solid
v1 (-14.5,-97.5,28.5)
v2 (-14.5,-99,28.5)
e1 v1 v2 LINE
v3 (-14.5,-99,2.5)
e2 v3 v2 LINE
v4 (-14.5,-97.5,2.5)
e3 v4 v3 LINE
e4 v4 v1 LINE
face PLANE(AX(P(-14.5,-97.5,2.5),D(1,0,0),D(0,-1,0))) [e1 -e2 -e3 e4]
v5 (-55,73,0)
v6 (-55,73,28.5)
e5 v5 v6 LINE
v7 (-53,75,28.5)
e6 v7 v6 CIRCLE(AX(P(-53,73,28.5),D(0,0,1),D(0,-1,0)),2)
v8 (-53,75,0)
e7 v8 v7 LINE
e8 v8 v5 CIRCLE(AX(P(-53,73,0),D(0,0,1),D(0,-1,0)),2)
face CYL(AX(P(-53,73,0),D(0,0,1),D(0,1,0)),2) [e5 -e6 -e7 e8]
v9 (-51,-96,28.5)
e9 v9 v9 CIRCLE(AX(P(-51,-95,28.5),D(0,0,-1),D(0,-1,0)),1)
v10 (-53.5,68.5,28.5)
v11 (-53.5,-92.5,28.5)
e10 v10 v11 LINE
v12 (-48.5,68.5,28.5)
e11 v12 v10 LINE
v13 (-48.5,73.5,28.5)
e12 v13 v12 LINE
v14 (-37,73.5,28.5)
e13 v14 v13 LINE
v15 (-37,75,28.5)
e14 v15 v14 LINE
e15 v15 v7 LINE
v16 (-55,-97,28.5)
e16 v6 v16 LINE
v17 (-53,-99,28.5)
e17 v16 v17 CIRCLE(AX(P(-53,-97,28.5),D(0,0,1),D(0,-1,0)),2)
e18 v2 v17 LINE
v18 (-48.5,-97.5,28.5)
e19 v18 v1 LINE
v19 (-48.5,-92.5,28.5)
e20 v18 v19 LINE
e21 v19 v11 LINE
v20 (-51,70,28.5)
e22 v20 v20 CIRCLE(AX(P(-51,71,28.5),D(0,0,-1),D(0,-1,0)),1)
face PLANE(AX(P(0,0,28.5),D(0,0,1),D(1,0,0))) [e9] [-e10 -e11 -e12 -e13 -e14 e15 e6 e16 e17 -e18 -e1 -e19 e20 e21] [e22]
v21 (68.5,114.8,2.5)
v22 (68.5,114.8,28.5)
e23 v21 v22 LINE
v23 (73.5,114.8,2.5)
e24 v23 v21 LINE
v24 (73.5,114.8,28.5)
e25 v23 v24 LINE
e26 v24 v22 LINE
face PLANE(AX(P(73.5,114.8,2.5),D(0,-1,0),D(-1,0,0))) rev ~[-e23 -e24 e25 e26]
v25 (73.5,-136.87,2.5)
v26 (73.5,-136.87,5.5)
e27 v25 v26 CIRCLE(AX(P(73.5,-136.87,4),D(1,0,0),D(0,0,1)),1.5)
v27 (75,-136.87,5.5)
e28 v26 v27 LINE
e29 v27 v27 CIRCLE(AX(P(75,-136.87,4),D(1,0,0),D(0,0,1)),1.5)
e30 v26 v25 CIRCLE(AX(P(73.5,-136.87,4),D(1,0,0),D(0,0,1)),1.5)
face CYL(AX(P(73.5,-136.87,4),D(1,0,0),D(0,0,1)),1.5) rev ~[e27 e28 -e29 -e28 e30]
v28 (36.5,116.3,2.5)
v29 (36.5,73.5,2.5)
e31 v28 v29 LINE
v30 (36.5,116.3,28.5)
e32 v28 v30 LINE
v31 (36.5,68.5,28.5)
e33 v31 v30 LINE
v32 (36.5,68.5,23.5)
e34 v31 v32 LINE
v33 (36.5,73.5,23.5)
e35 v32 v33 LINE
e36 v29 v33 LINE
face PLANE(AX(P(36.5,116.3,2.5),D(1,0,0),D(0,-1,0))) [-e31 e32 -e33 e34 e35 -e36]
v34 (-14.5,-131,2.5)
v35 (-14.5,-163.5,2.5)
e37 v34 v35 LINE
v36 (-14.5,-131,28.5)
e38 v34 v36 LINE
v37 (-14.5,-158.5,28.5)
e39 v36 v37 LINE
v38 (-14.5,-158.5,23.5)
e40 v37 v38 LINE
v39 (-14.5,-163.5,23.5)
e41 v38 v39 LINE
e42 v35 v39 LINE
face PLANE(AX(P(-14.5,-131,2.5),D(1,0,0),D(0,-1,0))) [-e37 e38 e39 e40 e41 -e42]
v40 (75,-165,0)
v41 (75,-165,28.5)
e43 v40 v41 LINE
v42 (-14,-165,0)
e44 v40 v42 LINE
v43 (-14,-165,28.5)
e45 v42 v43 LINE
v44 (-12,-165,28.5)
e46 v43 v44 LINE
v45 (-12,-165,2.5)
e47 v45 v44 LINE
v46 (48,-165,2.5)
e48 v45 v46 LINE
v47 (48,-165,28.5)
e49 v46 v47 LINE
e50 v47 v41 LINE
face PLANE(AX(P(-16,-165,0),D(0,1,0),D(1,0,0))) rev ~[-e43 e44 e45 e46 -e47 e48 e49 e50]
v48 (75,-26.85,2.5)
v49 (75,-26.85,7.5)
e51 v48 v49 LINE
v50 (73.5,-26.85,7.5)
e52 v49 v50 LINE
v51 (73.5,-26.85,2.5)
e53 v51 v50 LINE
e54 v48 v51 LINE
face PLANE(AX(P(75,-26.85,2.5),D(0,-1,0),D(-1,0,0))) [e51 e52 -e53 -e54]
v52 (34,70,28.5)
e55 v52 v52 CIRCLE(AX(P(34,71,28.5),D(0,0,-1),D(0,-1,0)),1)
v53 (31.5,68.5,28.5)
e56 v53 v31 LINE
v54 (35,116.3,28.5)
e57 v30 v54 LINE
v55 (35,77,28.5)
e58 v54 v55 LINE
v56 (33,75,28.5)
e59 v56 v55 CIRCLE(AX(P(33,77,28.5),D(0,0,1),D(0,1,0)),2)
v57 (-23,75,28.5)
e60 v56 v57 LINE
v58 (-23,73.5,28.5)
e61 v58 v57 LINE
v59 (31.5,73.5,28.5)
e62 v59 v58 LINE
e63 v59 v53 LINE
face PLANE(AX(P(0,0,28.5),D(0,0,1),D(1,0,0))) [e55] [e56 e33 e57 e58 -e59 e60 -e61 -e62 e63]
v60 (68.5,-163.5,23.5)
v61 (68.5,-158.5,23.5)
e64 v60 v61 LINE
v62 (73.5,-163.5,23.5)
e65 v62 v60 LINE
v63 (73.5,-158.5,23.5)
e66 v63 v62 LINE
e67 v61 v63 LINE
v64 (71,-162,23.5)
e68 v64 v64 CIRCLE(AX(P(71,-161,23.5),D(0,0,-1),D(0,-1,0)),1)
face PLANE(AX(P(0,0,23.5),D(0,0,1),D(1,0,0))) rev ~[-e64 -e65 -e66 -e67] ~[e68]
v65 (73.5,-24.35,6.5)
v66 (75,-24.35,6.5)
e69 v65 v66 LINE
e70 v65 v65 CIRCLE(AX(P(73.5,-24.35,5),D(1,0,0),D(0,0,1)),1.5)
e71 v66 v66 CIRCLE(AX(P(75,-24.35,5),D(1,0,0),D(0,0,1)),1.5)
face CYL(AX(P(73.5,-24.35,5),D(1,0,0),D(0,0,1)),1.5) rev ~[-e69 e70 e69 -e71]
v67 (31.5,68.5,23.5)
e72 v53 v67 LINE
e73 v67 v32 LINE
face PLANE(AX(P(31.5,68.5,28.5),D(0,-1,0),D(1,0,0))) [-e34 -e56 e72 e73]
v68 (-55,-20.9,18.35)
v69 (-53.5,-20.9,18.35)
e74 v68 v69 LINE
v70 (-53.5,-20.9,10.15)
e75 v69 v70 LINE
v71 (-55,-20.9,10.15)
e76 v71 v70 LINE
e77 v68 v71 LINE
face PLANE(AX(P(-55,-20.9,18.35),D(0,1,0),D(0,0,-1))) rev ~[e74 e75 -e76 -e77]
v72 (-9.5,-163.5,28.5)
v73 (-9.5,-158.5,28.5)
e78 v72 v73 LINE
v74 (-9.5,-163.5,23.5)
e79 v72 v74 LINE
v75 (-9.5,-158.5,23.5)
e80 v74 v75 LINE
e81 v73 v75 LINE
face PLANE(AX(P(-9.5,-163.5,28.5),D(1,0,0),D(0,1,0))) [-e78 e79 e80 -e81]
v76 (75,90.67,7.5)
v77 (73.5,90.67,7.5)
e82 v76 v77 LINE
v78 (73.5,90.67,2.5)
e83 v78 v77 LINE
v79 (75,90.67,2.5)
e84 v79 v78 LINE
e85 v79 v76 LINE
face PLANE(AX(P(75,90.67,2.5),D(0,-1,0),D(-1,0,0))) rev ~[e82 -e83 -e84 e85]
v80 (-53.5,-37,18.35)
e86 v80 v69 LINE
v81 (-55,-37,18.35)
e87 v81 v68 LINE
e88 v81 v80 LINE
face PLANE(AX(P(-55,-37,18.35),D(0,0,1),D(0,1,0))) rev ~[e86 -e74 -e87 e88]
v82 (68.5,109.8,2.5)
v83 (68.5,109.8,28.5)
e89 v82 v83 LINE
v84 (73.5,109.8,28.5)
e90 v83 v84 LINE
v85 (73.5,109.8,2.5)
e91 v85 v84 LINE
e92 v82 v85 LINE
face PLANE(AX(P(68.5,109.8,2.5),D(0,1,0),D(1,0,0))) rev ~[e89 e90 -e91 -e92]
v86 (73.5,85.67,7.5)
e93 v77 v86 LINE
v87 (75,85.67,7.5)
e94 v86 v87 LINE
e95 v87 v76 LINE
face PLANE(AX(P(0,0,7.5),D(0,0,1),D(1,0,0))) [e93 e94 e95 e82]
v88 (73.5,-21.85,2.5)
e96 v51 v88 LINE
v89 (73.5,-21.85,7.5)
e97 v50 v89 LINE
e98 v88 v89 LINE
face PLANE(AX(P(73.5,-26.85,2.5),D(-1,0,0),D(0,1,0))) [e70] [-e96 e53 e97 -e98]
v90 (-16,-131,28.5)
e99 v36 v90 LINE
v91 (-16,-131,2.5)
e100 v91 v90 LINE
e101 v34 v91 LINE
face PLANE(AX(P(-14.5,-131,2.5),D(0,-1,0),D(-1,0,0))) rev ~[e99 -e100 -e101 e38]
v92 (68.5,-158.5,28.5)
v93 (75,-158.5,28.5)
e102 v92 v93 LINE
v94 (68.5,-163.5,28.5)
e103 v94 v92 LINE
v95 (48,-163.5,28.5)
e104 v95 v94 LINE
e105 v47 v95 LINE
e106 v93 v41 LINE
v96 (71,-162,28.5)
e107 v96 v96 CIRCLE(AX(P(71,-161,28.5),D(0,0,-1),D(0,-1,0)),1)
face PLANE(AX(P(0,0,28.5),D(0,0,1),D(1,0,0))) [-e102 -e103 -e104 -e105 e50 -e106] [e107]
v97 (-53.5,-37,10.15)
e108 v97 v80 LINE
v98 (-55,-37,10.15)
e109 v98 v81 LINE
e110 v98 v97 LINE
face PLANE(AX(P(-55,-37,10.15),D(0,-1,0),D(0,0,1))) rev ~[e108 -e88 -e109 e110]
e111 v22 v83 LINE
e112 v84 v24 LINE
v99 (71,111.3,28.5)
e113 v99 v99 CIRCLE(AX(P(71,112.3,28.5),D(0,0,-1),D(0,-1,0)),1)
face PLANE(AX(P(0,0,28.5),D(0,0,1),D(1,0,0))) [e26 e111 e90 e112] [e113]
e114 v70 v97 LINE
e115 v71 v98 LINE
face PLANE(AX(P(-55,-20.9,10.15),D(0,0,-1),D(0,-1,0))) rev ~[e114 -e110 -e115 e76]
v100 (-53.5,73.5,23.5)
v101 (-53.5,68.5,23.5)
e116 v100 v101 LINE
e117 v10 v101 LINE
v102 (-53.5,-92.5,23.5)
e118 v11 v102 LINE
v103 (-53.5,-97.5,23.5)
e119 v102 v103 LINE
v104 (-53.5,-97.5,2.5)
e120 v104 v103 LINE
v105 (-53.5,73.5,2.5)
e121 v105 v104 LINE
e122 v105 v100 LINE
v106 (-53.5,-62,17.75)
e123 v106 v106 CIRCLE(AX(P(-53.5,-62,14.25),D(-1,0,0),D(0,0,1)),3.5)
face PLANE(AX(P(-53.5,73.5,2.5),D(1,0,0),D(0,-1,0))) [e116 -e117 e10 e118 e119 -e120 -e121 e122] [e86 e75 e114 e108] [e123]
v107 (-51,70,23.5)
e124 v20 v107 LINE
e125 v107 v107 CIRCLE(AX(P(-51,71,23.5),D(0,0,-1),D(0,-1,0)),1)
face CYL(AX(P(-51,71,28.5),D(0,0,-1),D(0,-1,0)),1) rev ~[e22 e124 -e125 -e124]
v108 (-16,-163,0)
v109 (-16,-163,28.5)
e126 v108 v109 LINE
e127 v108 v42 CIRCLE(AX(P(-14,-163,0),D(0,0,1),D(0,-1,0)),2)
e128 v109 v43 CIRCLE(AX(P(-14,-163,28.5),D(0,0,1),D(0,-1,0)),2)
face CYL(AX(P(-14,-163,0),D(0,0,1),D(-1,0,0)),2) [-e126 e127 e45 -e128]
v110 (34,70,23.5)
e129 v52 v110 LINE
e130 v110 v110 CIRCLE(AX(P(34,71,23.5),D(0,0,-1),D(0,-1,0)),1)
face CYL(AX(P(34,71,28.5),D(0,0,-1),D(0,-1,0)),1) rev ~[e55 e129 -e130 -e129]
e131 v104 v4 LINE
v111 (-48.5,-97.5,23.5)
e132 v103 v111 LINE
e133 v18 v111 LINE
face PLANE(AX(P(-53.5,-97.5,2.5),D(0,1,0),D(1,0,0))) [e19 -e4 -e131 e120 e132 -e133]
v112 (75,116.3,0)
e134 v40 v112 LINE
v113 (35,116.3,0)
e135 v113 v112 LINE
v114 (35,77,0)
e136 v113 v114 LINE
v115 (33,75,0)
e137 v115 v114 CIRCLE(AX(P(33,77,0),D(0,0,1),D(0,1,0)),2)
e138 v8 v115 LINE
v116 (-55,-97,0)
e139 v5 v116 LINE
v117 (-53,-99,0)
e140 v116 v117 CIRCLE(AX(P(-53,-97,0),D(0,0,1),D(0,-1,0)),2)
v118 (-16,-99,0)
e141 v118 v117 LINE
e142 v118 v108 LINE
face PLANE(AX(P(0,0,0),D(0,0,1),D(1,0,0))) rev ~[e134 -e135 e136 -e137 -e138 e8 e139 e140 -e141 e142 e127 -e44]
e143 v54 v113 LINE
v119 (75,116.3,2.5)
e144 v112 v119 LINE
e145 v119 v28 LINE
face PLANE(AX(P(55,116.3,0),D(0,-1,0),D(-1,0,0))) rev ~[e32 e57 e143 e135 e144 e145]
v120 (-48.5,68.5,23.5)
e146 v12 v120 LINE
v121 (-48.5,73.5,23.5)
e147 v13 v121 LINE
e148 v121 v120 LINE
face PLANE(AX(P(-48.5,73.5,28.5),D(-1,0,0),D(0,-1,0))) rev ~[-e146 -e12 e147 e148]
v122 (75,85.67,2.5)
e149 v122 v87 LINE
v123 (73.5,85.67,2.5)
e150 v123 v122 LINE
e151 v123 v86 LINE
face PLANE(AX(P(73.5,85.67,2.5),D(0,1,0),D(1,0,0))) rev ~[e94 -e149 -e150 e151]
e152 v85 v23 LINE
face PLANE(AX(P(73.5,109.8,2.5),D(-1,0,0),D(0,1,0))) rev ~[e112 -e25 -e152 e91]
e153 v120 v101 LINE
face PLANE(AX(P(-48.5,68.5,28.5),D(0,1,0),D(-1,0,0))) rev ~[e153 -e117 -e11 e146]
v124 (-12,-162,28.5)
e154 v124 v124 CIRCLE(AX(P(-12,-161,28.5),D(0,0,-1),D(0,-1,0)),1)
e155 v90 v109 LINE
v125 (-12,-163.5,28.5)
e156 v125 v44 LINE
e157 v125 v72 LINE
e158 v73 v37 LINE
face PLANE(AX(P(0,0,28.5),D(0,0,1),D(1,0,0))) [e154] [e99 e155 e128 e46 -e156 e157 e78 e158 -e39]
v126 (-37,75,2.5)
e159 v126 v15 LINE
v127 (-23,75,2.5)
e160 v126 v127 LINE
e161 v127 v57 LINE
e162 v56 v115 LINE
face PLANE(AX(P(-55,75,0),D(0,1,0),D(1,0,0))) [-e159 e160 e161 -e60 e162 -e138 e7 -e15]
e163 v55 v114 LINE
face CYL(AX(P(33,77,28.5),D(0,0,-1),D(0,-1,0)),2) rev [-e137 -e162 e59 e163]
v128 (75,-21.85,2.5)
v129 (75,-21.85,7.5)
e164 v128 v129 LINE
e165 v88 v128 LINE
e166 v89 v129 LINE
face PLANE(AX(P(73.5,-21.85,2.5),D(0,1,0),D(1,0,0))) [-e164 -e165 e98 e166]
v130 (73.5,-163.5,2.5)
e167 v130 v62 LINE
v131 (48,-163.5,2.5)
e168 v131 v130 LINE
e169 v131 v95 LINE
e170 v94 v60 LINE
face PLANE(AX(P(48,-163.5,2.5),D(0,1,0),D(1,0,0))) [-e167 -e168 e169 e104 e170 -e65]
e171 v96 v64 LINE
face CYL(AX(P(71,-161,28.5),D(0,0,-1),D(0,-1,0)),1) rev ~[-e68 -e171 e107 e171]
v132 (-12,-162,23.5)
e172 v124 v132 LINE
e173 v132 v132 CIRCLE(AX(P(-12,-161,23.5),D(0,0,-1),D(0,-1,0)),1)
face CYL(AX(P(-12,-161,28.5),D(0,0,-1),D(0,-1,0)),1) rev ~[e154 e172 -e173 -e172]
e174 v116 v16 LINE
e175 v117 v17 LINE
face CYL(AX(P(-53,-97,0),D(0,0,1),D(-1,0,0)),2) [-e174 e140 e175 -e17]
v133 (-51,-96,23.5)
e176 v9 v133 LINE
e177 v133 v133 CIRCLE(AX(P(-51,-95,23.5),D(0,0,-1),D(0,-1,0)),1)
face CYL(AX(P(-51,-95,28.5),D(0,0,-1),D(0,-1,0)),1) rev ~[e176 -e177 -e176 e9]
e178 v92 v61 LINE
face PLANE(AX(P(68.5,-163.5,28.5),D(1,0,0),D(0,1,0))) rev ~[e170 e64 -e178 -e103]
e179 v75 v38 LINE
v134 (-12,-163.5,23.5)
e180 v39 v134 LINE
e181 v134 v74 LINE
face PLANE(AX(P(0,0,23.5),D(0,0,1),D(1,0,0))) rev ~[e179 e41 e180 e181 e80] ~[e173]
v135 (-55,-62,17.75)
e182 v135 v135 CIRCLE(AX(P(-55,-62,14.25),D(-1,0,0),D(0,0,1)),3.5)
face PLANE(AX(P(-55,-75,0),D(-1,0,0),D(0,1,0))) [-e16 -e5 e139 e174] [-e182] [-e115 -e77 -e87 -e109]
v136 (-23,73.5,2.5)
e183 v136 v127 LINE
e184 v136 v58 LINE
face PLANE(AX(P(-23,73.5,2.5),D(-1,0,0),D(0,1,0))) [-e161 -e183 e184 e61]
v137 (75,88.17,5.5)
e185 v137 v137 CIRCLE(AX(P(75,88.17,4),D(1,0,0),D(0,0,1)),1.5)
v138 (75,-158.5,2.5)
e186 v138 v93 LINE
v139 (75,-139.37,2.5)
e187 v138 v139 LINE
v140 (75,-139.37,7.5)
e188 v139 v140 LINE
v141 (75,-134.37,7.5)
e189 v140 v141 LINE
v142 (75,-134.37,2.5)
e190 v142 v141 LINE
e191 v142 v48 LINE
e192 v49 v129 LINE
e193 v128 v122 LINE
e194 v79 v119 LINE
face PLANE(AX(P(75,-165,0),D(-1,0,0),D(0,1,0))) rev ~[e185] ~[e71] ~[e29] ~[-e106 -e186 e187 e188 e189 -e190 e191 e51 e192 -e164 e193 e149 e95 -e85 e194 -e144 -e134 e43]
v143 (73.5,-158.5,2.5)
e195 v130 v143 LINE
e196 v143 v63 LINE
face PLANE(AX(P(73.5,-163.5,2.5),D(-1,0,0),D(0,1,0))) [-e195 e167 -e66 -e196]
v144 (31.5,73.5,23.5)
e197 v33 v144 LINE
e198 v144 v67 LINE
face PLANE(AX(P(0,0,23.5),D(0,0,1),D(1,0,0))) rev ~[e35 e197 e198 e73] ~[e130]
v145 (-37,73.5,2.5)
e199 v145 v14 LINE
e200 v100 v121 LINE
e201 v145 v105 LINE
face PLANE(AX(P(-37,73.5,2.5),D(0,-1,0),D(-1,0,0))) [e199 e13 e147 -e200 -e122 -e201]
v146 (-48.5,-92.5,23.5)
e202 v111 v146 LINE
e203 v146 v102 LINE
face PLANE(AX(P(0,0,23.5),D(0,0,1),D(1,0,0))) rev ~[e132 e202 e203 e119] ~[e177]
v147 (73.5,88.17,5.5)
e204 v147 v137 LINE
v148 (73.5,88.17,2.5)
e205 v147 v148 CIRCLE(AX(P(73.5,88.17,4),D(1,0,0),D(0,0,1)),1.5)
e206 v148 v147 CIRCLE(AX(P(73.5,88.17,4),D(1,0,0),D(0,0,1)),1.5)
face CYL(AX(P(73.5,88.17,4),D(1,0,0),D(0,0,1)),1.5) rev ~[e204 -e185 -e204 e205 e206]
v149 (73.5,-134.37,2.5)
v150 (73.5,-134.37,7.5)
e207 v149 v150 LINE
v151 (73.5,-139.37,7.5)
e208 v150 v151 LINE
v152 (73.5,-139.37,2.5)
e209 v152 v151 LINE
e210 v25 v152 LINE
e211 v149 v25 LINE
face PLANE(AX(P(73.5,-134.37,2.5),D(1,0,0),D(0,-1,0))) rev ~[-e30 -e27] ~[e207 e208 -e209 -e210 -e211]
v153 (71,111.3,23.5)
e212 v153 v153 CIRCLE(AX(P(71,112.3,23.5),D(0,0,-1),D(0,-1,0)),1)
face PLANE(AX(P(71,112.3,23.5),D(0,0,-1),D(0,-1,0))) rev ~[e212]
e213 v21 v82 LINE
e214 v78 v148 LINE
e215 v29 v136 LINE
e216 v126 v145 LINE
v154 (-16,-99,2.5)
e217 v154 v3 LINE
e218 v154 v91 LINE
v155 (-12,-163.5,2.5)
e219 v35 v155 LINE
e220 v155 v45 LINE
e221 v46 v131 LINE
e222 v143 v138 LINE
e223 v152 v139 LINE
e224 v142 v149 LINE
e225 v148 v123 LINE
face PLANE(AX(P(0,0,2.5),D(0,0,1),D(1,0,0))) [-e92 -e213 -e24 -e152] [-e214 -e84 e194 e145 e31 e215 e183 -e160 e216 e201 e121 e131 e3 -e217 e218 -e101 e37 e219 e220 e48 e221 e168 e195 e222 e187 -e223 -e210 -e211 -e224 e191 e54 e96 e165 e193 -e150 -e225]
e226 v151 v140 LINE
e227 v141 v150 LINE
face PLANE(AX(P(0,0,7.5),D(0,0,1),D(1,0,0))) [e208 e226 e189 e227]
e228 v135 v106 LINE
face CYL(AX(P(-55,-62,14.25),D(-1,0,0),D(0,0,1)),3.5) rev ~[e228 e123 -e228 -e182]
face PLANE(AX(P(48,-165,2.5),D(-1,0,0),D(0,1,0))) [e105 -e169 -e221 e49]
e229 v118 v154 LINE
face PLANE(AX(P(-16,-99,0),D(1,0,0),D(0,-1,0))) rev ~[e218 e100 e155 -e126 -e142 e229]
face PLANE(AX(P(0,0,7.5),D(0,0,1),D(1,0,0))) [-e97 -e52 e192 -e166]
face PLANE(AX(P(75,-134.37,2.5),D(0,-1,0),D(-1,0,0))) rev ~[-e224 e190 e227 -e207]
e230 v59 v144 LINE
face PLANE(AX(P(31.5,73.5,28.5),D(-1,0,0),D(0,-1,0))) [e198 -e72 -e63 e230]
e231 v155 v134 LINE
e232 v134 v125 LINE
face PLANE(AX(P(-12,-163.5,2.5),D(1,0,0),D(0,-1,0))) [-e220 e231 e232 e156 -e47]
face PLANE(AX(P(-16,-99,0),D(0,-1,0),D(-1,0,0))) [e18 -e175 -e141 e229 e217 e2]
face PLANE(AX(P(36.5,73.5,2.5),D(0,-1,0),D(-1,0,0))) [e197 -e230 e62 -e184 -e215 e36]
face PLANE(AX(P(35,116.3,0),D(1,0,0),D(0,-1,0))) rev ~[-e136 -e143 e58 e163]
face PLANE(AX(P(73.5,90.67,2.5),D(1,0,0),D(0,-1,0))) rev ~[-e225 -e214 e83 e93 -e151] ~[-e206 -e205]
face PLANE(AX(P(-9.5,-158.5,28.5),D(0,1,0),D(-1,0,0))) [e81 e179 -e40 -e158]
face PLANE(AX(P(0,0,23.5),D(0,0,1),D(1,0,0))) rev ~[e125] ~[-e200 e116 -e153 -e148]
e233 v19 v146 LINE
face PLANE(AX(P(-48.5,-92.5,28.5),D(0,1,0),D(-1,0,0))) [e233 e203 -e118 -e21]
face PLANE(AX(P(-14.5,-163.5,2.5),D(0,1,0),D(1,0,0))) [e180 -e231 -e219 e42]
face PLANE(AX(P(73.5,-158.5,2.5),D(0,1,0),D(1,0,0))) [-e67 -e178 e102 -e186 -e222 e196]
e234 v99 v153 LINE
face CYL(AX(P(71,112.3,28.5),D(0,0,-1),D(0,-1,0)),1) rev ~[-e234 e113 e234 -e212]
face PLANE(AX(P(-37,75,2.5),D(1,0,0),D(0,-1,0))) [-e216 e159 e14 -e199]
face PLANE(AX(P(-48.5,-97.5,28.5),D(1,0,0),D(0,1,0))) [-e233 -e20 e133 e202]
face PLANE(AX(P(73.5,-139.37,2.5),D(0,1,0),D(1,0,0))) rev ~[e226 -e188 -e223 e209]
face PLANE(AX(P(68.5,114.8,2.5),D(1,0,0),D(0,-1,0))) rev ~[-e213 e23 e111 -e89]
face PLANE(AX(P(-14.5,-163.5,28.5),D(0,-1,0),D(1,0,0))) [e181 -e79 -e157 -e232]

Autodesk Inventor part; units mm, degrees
ref_plane "YZ Plane" through (0, 0, 0) normal (1, 0, 0) x (0, 1, 0)
ref_plane "XZ Plane" through (0, 0, 0) normal (0, 1, 0) x (-1, 0, 0)
ref_plane "XY Plane" through (0, 0, 0) normal (0, 0, 1) x (1, 0, 0)
sketch "Skizze1" plane through (0, 0, 0) normal (0, 0, 1) x (1, 0, 0)
  line L0 (-55, 75) -> (55, 75)
  line L1 (55, 75) -> (55, -75)
  line L2 (55, -75) -> (-55, -75) construction
  line L3 (-55, -75) -> (-55, 75)
  line L4 (0, -221.26) -> (0, 172.56) construction
  line L5 (-81, 0) -> (101, 0) construction
  line L6 (55, -75) -> (-16, -75) construction
  line L7 (-16, -75) -> (-16, -165) construction
  line L8 (-16, -165) -> (55, -165)
  line L9 (55, -165) -> (55, -75)
  line L10 (55, -165) -> (75, -165)
  line L11 (75, -165) -> (75, 116.3)
  line L12 (75, 116.3) -> (55, 116.3)
  line L13 (55, 116.3) -> (55, -165) construction
  line L14 (-55, -75) -> (-16, -75) construction
  line L15 (-16, -75) -> (-16, -99) construction
  line L16 (-16, -99) -> (-55, -99)
  line L17 (-55, -99) -> (-55, -75)
  line L18 (-16, -99) -> (-16, -165)
  line L19 (55, 116.3) -> (35, 116.3)
  line L20 (35, 116.3) -> (35, 75)
  line L21 (35, 75) -> (55, 75)
  line L22 (55, 75) -> (55, 116.3) construction
  point P0 (0, 0)
  point P1 (-35.5, -75)
  dimension "d0" = 110
  dimension "d1" = 150
  dimension "d4" = 90
  dimension "d5" = 71
  dimension "d6" = 281.3
  dimension "d7" = 20
  dimension "d139" = 24
  dimension "d140" = 20
extrude "Extrusion1" add sketch "Skizze1" along normal blind 2.5
sketch "Skizze7" plane through (0, 0, 2.5) normal (0, 0, 1) x (1, 0, 0)
  line L0 (75, 116.3) -> (35, 116.3) projected
  line L1 (75, 116.3) -> (73.5, 116.3)
  line L2 (73.5, 116.3) -> (73.5, -165) construction
  line L3 (73.5, -165) -> (75, -165)
  line L4 (75, -165) -> (75, 116.3)
  line L5 (75, 90.67) -> (73.5, 90.67)
  line L6 (73.5, 90.67) -> (73.5, 85.67)
  line L7 (73.5, 85.67) -> (75, 85.67)
  line L8 (75, 85.67) -> (75, 90.67)
  line L9 (75, -134.37) -> (73.5, -134.37)
  line L10 (73.5, -134.37) -> (73.5, -139.37)
  line L11 (73.5, -139.37) -> (75, -139.37)
  line L12 (75, -139.37) -> (75, -134.37)
  line L13 (-16, -165) -> (75, -165) projected
  line L14 (75, -165) -> (75, 116.3) projected
  line L15 (75, -26.85) -> (73.5, -26.85)
  line L16 (73.5, -26.85) -> (73.5, -21.85)
  line L17 (73.5, -21.85) -> (75, -21.85)
  line L18 (75, -21.85) -> (75, -26.85)
  point P0 (0, 0)
  point P1 (45.75, 136.3)
  point P2 (-15.25, -145)
  point P3 (75, 85.67)
  point P4 (49.25, 116.3)
  point P5 (74.25, -165)
  point P6 (75, -26.85)
  point P7 (75, -21.85)
  dimension "d66" = 1.5
  dimension "d67" = 5
  dimension "d68" = 25.63
  dimension "d69" = 25.63
  dimension "d70" = 5
  dimension "d156" = 5
  dimension "d157" = 138.15
extrude "Extrusion6" add sketch "Skizze7" along normal blind 5
sketch "Skizze8" plane through (73.5, -139.37, 2.5) normal (-1, 0, 0) x (0, 0, 1)
  line L0 (0, 0) -> (5, 0) projected
  line L1 (5, 5) -> (5, 0) projected
  line L2 (0, 225.04) -> (5, 225.04) projected
  line L3 (5, 230.04) -> (5, 225.04) projected
  line L4 (0, 230.04) -> (5, 230.04) projected
  line L5 (0, 225.04) -> (0, 230.04) projected
  line L6 (5, 112.52) -> (5, 117.52) projected
  line L7 (0, 112.52) -> (5, 112.52) projected
  point P0 (-2.5, 139.37)
  point P1 (1.5, 2.5)
  point P2 (2.5, 0)
  point P3 (1.5, 227.54)
  point P4 (2.5, 115.02)
  dimension "d73" = 2.5
  dimension "d74" = 3.5
  dimension "d75" = 3.5
  dimension "d76" = 2.5
  dimension "d158" = 2.5
  dimension "d159" = 2.5
hole "Bohrung1" at (73.5, 88.17, 4) at (73.5, -136.87, 4) at (73.5, -24.35, 5) direction (1, 0, 0) diameter 3 depth 1.5
sketch "Skizze15" plane through (0, 0, 2.5) normal (0, 0, 1) x (1, 0, 0)
  line L0 (73.5, -134.37) -> (75, -134.37) projected
  line L1 (75, -134.37) -> (75, -26.85) projected
  line L2 (75, 85.67) -> (73.5, 85.67) projected
  line L3 (73.5, 85.67) -> (73.5, 88.17) projected
  line L4 (73.5, 88.17) -> (73.5, 90.67) projected
  line L5 (73.5, 90.67) -> (75, 90.67) projected
  line L6 (75, 90.67) -> (75, 116.3) projected
  line L7 (75, 116.3) -> (35, 116.3) projected
  line L8 (35, 116.3) -> (35, 75) projected
  line L9 (35, 75) -> (-55, 75) projected
  line L10 (-55, 75) -> (-55, -99) projected
  line L11 (-55, -99) -> (-16, -99) projected
  line L12 (-16, -99) -> (-16, -165) projected
  line L13 (-16, -165) -> (75, -165) projected
  line L14 (75, -165) -> (75, -139.37) projected
  line L15 (75, -139.37) -> (73.5, -139.37) projected
  line L16 (73.5, -139.37) -> (73.5, -136.87) projected
  line L17 (73.5, -136.87) -> (73.5, -134.37) projected
  line L18 (75, 116.3) -> (35, 116.3) projected
  line L19 (36.5, 116.3) -> (36.5, 73.5)
  line L20 (36.5, 73.5) -> (-23, 73.5)
  line L21 (-23, 73.5) -> (-23, 75)
  line L22 (-37, 75) -> (-37, 73.5)
  line L23 (-37, 73.5) -> (-53.5, 73.5)
  line L24 (-53.5, 73.5) -> (-53.5, -97.5)
  line L25 (-53.5, -97.5) -> (-14.5, -97.5)
  line L26 (-14.5, -97.5) -> (-14.5, -99)
  line L27 (-14.5, -99) -> (-16, -99)
  line L28 (-14.5, -131) -> (-14.5, -163.5)
  line L29 (-14.5, -163.5) -> (-12, -163.5)
  line L30 (-12, -163.5) -> (-12, -165)
  line L31 (48, -165) -> (48, -163.5)
  line L32 (48, -163.5) -> (75, -163.5)
  line L33 (-14.5, -131) -> (-16, -131)
  line L34 (75, -26.85) -> (73.5, -26.85) projected
  line L35 (73.5, -26.85) -> (73.5, -21.85) projected
  line L36 (73.5, -21.85) -> (75, -21.85) projected
  line L37 (75, -21.85) -> (75, 85.67) projected
  line L38 (75, 111.3) -> (75, 116.3)
  line L39 (75, -163.5) -> (73.5, -163.5)
  line L40 (73.5, -163.5) -> (73.5, -158.5)
  line L41 (73.5, -158.5) -> (75, -158.5)
  line L42 (75, -158.5) -> (75, -163.5)
  line L43 (73.5, 114.8) -> (68.5, 114.8)
  line L44 (68.5, 114.8) -> (68.5, 109.8)
  line L45 (68.5, 109.8) -> (73.5, 109.8)
  line L46 (73.5, 109.8) -> (73.5, 114.8)
  point P0 (0, 0)
  point P1 (75, -158.5)
  dimension "d141" = 1.5
  dimension "d142" = 1.5
  dimension "d143" = 1.5
  dimension "d144" = 1.5
  dimension "d145" = 1.5
  dimension "d146" = 1.5
  dimension "d147" = 4
  dimension "d148" = 64
  dimension "d149" = 0
  dimension "d150" = 32
  dimension "d151" = 18
  dimension "d152" = 14
  dimension "d171" = 5
  dimension "d172" = 1.5
  dimension "d224" = 5
  dimension "d225" = 5
  dimension "d226" = 1.5
  dimension "d227" = 1.5
extrude "Extrusion13" add sketch "Skizze15" along normal blind 26 contours L14 L32 L40 L41 | L14 L13 L31 L32 | L13 L12 L33 L28 L29 L30 | L11 L10 L9 L22 L23 L24 L25 L26 L27 | L19 L20 L21 L9 L8 L7 | L46 L45 L44 L43
fillet "Rundung1" radius 2 4 edges at (35, 75, 14.25) (-55, 75, 14.25) (-55, -99, 14.25) (-16, -165, 14.25)
sketch "Skizze16" plane through (-55, -97, 0) normal (-1, 0, 0) x (0, 0, 1)
  line L0 (18.35, 76.1) -> (10.15, 76.1)
  line L1 (10.15, 76.1) -> (10.15, 60)
  line L2 (10.15, 60) -> (18.35, 60)
  line L3 (18.35, 60) -> (18.35, 76.1)
  circle A0 centre (14.25, 35) radius 3.5
  line L4 (0, 170) -> (28.5, 170) projected
  line L5 (0, 170) -> (0, 0) projected
  line L6 (28.5, 0) -> (0, 0) projected
  line L7 (28.5, 170) -> (28.5, 0) projected
  point P0 (0, 97)
  dimension "d160" = 16.1
  dimension "d161" = 8.2
  dimension "d162" = 7
  dimension "d163" = 14.25
  dimension "d164" = 35
  dimension "d165" = 60
  dimension "d166" = 10.15
extrude "Extrusion14" cut sketch "Skizze16" against normal up to surface (1.5 mm away) contours L3 L2 L1 L0 | A0
sketch "Skizze17" plane through (0, 0, 28.5) normal (0, 0, 1) x (1, 0, 0)
  line L0 (73.5, -163.5) -> (48, -163.5) projected
  line L1 (73.5, -163.5) -> (68.5, -163.5)
  line L2 (68.5, -163.5) -> (68.5, -158.5)
  line L3 (68.5, -158.5) -> (73.5, -158.5)
  line L4 (73.5, -158.5) -> (73.5, -163.5)
  line L5 (-14.5, -131) -> (-14.5, -163.5) projected
  line L6 (-14.5, -163.5) -> (-9.5, -163.5)
  line L7 (-9.5, -163.5) -> (-9.5, -158.5)
  line L8 (-9.5, -158.5) -> (-14.5, -158.5)
  line L9 (-14.5, -158.5) -> (-14.5, -163.5)
  line L10 (-53.5, 73.5) -> (-53.5, -97.5) projected
  line L11 (-53.5, -97.5) -> (-48.5, -97.5)
  line L12 (-48.5, -97.5) -> (-48.5, -92.5)
  line L13 (-48.5, -92.5) -> (-53.5, -92.5)
  line L14 (-53.5, -92.5) -> (-53.5, -97.5)
  line L15 (-53.5, 73.5) -> (-48.5, 73.5)
  line L16 (-48.5, 73.5) -> (-48.5, 68.5)
  line L17 (-48.5, 68.5) -> (-53.5, 68.5)
  line L18 (-53.5, 68.5) -> (-53.5, 73.5)
  line L19 (36.5, 73.5) -> (36.5, 116.3) projected
  line L20 (36.5, 73.5) -> (31.5, 73.5)
  line L21 (31.5, 73.5) -> (31.5, 68.5)
  line L22 (31.5, 68.5) -> (36.5, 68.5)
  line L23 (36.5, 68.5) -> (36.5, 73.5)
  point P0 (0, 0)
  point P1 (-14.5, -158.5)
  dimension "d173" = 5
  dimension "d174" = 5
  dimension "d175" = 5
  dimension "d176" = 5
  dimension "d177" = 5
  dimension "d178" = 5
  dimension "d179" = 5
  dimension "d180" = 5
  dimension "d181" = 5
  dimension "d182" = 5
extrude "Extrusion15" add sketch "Skizze17" against normal blind 5
sketch "Skizze19" plane through (0, 0, 28.5) normal (0, 0, 1) x (1, 0, 0)
  line L0 (-14, -165) -> (75, -165) projected
  line L1 (75, -165) -> (75, -158.5) projected
  line L2 (-12, -165) -> (48, -165) projected
  line L3 (-16, -131) -> (-16, -163) projected
  line L4 (-53, -99) -> (-14.5, -99) projected
  line L5 (-55, 73) -> (-55, -97) projected
  line L6 (33, 75) -> (-53, 75) projected
  line L7 (33, 75) -> (-53, 75) projected
  line L8 (31.5, 73.5) -> (31.5, 68.5) projected
  line L9 (36.5, 116.3) -> (35, 116.3) projected
  line L10 (75, 90.67) -> (75, 116.3) projected
  point P0 (0, 0)
  point P1 (71, -161)
  point P2 (-12, -161)
  point P3 (-51, -95)
  point P4 (-51, 71)
  point P5 (34, 71)
  point P6 (71, 112.3)
  point P7 (-16, -163)
  point P8 (-37, 75)
  point P9 (-23, 75)
  point P10 (69.25, -139.37)
  point P11 (-21.75, -99)
  dimension "d205" = 4
  dimension "d206" = 4
  dimension "d207" = 4
  dimension "d208" = 4
  dimension "d209" = 4
  dimension "d210" = 4
  dimension "d211" = 4
  dimension "d212" = 4
  dimension "d213" = 4
  dimension "d214" = 2.5
  dimension "d215" = 4
  dimension "d228" = 4
hole "Bohrung3" at (71, -161, 28.5) at (-12, -161, 28.5) at (-51, -95, 28.5) at (71, 112.3, 28.5) at (34, 71, 28.5) at (-51, 71, 28.5) direction (0, 0, -1) diameter 2 depth 5
properties part number "PCB_Grundplatte_Platinengehäuse_V2"
